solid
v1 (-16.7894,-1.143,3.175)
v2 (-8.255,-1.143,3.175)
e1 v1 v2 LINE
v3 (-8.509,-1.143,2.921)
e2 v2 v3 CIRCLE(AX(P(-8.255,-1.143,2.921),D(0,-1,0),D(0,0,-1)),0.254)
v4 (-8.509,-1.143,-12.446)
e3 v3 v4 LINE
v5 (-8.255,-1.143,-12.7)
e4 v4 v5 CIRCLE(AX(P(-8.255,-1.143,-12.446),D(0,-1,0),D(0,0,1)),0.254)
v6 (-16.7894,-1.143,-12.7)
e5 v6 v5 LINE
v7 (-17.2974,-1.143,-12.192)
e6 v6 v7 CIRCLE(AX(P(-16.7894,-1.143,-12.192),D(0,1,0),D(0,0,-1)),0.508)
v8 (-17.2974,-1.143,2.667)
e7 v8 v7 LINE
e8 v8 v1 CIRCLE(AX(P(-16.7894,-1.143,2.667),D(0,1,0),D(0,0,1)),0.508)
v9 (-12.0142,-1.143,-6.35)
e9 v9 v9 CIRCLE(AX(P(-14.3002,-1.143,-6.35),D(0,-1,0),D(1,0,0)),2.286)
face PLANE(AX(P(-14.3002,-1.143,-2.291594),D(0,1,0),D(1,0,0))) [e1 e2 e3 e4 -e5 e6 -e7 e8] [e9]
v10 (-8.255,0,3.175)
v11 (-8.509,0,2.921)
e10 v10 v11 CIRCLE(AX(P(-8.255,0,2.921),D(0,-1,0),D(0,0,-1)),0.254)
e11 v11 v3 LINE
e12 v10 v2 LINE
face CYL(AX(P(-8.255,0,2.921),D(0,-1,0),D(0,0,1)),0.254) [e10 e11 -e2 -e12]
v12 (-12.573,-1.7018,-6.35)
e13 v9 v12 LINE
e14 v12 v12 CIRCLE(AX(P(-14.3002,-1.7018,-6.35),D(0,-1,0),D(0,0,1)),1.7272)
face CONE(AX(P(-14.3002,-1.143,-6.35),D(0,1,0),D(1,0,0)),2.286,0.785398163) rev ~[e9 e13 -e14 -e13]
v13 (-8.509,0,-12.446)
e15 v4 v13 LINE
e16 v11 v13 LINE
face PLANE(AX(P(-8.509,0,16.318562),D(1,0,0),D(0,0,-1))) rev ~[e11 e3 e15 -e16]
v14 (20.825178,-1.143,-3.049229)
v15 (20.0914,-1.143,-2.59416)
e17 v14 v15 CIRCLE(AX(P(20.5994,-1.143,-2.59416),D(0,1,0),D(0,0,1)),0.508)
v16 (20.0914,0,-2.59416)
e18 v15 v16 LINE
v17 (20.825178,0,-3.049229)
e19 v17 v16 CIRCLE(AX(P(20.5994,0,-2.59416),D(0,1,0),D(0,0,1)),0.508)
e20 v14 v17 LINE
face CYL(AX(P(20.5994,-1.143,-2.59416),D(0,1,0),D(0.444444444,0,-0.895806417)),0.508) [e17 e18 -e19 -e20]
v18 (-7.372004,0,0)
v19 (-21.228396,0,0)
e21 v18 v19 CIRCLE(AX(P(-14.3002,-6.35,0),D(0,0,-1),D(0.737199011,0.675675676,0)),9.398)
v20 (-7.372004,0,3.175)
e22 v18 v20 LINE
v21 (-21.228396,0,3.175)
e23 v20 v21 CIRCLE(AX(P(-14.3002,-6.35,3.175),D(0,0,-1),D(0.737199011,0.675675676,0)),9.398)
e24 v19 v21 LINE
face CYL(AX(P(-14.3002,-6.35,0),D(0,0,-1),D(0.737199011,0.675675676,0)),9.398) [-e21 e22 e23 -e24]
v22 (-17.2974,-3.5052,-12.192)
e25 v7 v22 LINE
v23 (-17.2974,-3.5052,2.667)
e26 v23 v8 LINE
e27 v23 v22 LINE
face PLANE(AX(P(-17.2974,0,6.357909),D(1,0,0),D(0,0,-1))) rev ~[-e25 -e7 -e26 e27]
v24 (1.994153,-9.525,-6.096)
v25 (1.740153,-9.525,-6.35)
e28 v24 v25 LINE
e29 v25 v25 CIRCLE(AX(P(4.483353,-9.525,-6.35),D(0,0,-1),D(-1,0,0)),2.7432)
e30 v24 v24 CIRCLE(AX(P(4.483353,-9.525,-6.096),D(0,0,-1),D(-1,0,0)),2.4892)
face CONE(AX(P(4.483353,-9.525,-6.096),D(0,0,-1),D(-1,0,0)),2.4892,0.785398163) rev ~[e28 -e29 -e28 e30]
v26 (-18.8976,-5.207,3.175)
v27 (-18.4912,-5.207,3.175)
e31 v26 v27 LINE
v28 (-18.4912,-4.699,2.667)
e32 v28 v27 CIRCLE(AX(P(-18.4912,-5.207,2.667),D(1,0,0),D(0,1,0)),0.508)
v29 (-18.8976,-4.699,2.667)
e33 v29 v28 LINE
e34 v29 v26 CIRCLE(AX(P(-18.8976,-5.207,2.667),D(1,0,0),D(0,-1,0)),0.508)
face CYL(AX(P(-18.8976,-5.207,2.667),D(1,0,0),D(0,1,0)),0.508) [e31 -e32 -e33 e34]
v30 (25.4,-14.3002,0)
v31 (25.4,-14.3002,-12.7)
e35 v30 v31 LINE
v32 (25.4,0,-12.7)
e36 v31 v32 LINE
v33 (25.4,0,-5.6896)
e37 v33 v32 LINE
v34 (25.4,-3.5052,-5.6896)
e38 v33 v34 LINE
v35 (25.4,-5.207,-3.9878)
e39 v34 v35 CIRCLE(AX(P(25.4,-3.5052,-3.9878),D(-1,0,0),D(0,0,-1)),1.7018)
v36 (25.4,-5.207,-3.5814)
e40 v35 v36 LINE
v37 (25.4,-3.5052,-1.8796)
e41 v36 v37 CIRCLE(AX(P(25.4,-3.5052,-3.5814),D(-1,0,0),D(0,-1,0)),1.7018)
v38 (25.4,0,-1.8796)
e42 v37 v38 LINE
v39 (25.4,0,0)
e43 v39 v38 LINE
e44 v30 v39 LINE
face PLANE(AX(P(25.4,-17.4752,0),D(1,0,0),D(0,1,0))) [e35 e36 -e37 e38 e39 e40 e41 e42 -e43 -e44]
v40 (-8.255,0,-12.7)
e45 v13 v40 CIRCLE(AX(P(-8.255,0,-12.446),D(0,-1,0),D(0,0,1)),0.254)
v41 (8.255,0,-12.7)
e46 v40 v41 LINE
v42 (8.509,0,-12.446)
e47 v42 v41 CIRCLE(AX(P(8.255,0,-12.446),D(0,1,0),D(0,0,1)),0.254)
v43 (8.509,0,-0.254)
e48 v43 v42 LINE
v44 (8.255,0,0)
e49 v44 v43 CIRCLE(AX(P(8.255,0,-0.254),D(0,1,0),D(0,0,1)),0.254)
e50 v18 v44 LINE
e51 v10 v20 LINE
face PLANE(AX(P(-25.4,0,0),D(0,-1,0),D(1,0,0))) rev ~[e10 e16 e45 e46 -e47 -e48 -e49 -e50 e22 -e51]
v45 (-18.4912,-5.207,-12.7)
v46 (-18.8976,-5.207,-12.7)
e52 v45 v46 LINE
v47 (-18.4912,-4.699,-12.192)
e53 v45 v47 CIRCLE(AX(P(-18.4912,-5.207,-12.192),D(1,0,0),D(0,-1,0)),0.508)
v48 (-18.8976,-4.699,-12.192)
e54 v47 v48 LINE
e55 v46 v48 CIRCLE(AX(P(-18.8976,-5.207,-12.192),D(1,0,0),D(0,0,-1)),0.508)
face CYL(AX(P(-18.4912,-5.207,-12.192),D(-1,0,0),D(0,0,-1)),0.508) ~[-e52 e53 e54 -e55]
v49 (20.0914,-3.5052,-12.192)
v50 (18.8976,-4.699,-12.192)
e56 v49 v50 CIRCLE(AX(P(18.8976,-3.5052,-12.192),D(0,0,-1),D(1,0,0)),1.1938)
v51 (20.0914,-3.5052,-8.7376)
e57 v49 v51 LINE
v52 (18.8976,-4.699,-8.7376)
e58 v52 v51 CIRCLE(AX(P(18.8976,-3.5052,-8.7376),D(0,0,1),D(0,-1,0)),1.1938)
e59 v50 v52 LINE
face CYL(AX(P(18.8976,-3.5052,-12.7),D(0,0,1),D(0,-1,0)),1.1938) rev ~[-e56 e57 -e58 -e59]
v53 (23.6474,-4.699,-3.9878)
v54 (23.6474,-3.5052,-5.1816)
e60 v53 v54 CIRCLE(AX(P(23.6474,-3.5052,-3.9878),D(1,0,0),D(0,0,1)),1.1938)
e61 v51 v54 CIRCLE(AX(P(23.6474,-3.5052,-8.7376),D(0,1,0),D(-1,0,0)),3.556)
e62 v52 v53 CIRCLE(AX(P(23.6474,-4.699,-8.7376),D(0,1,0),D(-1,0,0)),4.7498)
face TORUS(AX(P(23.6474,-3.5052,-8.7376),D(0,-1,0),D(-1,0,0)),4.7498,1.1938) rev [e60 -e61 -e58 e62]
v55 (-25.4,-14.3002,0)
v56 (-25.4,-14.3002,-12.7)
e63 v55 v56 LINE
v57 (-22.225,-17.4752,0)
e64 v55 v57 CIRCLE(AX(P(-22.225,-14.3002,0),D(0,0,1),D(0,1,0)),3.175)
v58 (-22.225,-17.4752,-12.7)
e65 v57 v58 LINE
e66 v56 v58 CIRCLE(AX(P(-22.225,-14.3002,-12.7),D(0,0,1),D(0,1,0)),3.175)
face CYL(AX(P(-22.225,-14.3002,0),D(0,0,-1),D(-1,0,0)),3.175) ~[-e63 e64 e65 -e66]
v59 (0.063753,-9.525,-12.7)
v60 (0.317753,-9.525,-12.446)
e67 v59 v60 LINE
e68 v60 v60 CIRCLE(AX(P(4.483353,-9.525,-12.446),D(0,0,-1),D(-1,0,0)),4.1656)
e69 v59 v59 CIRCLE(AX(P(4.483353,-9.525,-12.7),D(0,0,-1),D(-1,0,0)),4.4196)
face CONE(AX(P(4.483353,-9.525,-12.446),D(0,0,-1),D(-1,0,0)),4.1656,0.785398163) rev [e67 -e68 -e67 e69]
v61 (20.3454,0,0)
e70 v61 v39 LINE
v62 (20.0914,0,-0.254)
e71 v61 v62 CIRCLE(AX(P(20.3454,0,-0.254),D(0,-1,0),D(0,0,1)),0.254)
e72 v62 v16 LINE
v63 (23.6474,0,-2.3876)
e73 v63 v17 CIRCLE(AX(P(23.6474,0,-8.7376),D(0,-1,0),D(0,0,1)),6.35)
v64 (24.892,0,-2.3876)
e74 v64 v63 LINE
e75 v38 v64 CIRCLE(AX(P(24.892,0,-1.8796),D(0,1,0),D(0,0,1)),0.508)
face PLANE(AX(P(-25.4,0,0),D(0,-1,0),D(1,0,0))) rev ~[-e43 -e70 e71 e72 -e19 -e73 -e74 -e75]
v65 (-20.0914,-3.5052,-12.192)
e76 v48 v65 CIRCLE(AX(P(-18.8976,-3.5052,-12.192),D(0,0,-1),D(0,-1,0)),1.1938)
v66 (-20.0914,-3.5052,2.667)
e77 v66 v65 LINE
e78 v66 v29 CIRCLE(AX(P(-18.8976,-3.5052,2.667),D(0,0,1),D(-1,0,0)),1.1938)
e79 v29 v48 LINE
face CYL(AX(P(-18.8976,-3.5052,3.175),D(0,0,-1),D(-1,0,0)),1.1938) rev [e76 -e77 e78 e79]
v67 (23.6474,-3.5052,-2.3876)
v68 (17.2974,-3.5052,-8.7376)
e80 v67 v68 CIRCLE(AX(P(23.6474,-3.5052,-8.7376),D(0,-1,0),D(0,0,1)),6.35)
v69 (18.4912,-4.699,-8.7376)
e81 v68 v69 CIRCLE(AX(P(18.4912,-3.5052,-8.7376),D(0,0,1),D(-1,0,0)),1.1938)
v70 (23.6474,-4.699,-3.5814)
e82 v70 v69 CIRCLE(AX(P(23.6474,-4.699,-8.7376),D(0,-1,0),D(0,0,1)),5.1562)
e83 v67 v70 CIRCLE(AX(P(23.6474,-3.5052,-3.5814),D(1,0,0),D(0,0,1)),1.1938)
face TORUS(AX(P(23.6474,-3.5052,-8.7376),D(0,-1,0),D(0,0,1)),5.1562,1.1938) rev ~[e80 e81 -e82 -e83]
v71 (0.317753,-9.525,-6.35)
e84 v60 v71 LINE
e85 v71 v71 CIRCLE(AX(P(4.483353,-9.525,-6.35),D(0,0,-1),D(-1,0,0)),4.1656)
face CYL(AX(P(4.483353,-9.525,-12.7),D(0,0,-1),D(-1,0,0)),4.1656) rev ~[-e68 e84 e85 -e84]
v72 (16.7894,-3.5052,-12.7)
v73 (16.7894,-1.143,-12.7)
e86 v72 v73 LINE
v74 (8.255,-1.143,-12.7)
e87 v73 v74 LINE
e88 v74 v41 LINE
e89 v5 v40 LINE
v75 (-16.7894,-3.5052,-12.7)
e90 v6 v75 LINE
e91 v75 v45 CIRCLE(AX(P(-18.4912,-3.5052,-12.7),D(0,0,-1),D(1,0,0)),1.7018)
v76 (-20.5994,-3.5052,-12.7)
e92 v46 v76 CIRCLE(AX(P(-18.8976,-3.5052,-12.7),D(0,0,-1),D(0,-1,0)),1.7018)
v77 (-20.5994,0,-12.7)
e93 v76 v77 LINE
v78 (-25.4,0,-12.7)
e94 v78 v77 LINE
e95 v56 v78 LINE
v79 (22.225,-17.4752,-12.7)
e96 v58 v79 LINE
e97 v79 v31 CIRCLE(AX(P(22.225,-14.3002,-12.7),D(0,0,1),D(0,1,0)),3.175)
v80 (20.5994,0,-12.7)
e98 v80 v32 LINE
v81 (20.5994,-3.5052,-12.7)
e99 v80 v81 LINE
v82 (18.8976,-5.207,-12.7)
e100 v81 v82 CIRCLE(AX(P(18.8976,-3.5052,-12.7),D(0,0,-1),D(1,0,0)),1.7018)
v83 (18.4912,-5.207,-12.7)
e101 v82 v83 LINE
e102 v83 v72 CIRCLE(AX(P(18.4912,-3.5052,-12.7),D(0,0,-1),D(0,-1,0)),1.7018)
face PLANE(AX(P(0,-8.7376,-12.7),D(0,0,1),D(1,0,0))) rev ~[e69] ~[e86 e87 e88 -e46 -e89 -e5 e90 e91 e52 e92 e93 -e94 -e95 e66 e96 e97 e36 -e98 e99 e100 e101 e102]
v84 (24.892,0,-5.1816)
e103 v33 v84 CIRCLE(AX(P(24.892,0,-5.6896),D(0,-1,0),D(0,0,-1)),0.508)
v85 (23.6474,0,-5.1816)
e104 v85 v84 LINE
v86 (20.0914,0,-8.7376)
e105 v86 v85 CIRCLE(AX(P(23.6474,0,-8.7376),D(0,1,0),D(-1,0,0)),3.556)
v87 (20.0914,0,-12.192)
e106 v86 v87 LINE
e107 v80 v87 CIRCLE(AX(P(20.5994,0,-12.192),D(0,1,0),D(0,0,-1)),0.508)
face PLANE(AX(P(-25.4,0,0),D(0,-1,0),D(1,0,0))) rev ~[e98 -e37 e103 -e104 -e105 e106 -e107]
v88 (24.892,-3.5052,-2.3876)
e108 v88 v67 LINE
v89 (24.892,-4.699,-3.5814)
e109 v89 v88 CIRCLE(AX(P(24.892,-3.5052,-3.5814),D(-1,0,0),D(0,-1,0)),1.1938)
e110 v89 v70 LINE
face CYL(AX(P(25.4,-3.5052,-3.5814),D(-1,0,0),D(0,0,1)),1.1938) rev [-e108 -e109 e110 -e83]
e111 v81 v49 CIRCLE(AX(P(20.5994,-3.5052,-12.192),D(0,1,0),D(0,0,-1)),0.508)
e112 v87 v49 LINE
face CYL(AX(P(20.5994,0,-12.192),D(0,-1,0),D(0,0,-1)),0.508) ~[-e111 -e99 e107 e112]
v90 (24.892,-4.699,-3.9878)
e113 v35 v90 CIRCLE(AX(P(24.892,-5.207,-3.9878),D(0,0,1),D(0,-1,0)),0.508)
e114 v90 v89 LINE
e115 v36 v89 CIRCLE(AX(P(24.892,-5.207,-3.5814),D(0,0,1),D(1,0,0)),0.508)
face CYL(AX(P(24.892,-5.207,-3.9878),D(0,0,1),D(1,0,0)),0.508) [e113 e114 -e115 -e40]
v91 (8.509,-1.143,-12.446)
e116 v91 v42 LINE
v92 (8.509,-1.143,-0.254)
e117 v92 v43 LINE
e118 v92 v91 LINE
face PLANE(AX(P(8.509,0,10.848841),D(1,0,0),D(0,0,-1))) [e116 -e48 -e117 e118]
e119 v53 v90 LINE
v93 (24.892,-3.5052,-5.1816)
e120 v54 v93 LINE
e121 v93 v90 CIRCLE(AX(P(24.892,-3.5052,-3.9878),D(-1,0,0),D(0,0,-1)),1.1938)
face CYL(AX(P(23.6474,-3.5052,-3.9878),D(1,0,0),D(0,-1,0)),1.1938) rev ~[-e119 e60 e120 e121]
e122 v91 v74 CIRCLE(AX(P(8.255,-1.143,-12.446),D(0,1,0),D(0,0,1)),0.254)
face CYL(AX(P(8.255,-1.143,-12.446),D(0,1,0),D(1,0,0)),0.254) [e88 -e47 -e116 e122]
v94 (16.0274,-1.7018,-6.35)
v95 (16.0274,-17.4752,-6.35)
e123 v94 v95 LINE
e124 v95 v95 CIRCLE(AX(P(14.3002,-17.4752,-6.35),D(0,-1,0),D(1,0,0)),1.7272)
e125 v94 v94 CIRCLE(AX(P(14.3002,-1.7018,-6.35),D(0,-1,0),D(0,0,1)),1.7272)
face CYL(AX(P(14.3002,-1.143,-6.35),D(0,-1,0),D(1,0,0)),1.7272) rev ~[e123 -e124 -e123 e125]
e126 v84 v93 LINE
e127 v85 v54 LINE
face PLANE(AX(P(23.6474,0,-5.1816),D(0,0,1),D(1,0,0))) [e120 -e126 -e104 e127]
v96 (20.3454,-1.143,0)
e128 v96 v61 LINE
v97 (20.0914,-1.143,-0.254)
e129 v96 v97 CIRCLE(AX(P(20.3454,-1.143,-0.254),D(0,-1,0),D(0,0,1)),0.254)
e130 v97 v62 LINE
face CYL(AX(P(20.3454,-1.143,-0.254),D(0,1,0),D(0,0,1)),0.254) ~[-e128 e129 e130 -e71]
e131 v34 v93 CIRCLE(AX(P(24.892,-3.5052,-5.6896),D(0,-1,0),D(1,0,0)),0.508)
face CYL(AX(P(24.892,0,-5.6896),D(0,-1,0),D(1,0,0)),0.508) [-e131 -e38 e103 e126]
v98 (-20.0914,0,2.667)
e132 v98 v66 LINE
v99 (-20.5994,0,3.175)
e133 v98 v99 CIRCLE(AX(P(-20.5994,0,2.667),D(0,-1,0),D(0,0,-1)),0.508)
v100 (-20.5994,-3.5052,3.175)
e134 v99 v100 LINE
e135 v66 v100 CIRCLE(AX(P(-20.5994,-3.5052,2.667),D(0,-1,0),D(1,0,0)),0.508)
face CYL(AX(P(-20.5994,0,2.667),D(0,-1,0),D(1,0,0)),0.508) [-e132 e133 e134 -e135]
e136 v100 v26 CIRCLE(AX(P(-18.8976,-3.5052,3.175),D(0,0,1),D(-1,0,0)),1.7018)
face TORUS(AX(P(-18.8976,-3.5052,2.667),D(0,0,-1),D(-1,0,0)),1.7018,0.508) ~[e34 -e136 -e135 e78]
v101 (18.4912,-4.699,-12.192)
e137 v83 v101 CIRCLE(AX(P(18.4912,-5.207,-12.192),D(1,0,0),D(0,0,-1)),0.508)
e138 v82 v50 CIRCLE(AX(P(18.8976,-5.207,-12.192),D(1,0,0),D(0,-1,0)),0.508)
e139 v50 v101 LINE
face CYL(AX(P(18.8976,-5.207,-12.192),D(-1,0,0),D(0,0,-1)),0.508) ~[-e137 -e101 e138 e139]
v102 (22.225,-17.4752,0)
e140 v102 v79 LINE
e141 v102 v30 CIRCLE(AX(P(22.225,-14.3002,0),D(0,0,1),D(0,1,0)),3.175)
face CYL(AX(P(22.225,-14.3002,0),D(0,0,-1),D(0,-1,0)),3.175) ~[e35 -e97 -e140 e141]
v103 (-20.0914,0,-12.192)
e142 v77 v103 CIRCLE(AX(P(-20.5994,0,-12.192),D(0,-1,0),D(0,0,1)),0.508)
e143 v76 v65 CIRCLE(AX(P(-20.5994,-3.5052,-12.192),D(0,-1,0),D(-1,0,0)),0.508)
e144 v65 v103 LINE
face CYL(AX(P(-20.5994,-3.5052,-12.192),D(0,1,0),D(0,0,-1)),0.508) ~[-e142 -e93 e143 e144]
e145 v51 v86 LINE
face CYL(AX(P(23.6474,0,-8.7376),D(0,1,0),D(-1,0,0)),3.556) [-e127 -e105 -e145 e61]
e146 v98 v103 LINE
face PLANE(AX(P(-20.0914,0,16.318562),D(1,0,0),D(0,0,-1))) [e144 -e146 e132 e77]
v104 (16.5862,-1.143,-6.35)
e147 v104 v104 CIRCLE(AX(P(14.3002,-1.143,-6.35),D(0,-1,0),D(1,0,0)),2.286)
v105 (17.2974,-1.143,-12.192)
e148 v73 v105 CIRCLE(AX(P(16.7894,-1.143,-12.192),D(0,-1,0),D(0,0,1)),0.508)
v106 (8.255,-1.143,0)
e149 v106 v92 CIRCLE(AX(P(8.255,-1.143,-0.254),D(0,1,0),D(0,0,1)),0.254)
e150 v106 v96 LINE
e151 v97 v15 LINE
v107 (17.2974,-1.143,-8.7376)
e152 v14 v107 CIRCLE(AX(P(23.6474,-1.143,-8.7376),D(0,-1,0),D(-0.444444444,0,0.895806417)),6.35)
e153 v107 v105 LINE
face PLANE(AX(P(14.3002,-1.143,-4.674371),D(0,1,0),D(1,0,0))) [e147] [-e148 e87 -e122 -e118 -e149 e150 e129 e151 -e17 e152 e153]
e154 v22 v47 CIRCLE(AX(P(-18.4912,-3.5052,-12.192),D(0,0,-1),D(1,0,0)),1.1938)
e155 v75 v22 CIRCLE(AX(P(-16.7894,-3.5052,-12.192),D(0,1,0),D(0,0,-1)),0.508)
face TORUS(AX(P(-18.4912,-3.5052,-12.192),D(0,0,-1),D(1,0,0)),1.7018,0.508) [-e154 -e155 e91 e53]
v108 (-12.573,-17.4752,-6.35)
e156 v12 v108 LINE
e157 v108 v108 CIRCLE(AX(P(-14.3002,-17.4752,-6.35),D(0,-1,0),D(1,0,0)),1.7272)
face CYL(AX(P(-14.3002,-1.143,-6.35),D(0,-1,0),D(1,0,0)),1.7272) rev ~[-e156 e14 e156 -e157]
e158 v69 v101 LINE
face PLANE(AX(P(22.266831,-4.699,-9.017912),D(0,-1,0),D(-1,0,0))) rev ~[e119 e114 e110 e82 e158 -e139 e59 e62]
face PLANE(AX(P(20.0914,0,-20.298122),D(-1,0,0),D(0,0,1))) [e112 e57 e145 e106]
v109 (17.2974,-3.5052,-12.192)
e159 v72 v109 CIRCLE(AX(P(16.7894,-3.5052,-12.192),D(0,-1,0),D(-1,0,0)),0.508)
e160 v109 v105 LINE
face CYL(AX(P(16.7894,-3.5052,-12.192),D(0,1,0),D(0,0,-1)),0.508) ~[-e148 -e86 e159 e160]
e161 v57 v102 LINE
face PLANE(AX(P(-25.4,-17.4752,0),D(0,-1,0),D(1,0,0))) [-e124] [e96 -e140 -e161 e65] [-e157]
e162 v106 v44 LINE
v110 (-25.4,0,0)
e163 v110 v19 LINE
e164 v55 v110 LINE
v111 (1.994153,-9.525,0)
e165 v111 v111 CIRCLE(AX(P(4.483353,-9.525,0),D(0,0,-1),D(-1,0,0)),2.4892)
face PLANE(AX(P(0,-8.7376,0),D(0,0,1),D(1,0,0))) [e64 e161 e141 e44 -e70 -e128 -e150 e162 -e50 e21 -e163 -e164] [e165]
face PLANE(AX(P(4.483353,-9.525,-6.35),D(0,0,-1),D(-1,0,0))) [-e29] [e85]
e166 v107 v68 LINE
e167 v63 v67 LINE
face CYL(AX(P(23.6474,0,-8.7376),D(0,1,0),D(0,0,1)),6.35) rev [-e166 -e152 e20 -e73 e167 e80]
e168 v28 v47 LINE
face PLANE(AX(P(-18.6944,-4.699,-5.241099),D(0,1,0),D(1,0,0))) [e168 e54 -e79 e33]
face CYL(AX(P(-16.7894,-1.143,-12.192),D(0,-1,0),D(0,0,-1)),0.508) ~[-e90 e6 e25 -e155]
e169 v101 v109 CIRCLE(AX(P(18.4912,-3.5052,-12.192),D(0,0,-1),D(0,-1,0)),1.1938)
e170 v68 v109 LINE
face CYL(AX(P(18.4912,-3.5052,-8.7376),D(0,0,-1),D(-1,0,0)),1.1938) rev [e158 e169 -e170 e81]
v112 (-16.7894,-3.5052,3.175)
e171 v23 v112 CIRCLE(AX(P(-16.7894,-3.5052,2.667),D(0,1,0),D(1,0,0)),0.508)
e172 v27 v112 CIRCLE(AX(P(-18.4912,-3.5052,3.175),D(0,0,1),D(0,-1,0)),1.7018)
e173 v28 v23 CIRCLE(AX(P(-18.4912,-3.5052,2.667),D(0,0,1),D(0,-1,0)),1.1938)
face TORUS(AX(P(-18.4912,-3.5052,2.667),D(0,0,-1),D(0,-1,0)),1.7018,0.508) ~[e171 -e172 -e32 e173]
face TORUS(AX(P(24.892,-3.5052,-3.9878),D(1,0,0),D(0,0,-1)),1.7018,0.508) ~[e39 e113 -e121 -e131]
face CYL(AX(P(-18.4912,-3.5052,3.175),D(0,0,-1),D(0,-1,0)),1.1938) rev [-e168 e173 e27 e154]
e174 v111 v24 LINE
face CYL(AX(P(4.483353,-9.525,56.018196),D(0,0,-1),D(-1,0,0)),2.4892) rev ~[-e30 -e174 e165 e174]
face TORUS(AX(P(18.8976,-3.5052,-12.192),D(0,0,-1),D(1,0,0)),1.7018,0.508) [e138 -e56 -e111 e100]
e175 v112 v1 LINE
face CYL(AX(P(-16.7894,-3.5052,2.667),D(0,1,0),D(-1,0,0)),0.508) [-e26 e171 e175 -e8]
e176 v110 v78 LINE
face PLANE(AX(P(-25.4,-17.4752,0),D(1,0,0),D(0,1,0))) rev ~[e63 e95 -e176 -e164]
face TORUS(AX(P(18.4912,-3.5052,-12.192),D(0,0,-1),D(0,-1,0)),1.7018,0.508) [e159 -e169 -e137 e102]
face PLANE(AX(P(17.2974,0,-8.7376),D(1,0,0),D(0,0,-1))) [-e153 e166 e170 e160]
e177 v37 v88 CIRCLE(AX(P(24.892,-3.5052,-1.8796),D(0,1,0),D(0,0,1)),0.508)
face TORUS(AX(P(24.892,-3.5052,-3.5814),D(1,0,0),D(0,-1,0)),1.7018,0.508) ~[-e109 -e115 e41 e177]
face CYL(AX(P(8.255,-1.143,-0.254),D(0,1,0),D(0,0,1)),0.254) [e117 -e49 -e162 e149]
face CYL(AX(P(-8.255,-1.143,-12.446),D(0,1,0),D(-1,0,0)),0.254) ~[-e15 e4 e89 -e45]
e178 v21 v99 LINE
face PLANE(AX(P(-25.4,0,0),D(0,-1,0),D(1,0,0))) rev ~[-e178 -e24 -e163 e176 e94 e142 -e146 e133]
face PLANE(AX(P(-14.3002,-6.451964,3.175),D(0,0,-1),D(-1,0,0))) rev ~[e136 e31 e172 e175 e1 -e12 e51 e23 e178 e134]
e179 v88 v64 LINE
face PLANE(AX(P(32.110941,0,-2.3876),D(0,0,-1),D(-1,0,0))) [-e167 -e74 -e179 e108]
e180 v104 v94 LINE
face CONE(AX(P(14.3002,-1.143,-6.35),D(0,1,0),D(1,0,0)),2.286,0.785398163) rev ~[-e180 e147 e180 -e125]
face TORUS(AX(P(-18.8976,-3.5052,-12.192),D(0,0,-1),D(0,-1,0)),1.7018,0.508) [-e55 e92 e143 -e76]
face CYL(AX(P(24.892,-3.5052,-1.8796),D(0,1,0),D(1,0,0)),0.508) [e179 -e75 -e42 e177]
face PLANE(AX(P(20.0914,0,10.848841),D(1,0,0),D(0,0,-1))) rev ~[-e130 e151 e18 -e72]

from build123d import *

# Parameters (mm, degrees)
SKETCH1_W                       = 50.8
SKETCH1_H                       = 17.4752
BOSS_EXTRUDE1_DEPTH             = 12.7
BOSS_EXTRUDE2_DEPTH             = 3.175
SKETCH12_W                      = 11.5824
SKETCH12_H                      = 31.04642485
SKETCH12_H_2                    = 37.220312072
CUT_EXTRUDE5_DEPTH              = 1.143
F_9_0_196_DIAMETER_HOLE1_D      = 4.9784
FILLET1_R                       = 3.175
F_8_32_TAPPED_HOLE2_D           = 3.4544
F_8_32_TAPPED_HOLE2_CSINK_D     = 4.572
F_8_32_TAPPED_HOLE2_CSINK_ANGLE = 90
SKETCH11_W                      = 2.794
SKETCH11_H                      = 23.198016048
CUT_EXTRUDE4_DEPTH              = 4.699
FILLET2_R                       = 1.1938
FILLET3_R                       = 0.508
FILLET4_R                       = 0.254
SKETCH16_R                      = 4.1656
CUT_EXTRUDE6_DEPTH              = 6.35
CHAMFER1_SIZE                   = 0.254
FILLET8_R                       = 0.508


with BuildPart() as part:
    # Sketch1 → Boss-Extrude1 (new body)
    with BuildSketch(Plane.XY):
        with Locations((0, -8.7376)):
            Rectangle(SKETCH1_W, SKETCH1_H)
    extrude(amount=-BOSS_EXTRUDE1_DEPTH)

    # Sketch2 → Boss-Extrude2 (add)
    with BuildSketch(Plane.XY):
        with BuildLine():
            Line((-21.228396302, 0), (-7.372003698, 0))
            ThreePointArc((-7.372003698, 0), (-14.3002, -15.748), (-21.228396302, 0))
        make_face()
    extrude(amount=BOSS_EXTRUDE2_DEPTH)

    # Sketch12 → Cut-Extrude5 (cut)
    with BuildSketch(Plane(origin=(0, 0, 0), x_dir=(1, 0, 0), z_dir=(0, 1, 0))):
        with Locations((14.3002, 4.674371042)):
            Rectangle(SKETCH12_W, SKETCH12_H)
        with Locations((-14.3002, 2.29159367)):
            Rectangle(SKETCH12_W, SKETCH12_H_2)
    extrude(amount=-CUT_EXTRUDE5_DEPTH, mode=Mode.SUBTRACT)

    # #9 (0.196) Diameter Hole1 (through all)
    with Locations(Plane(origin=(33.7312, -2.208443868, 0), x_dir=(1, 0, 0), z_dir=(0, 0, 1))):
        with Locations((-29.247846689, -7.316556132)):
            Hole(F_9_0_196_DIAMETER_HOLE1_D / 2)

    # Fillet1
    fillet1_edges = [part.edges().sort_by_distance(p)[0] for p in [
        (25.4, -17.4752, -6.35),
        (-25.4, -17.4752, -6.35),
    ]]
    fillet(fillet1_edges, radius=FILLET1_R)

    # #8-32 Tapped Hole2 (through all)
    with Locations(Plane(origin=(26.700019519, -1.143, -0.758269739), x_dir=(-1, 0, 0), z_dir=(0, 1, 0))):
        with Locations((12.399819519, -5.591730261), (41.000219519, -5.591730261)):
            CounterSinkHole(F_8_32_TAPPED_HOLE2_D / 2, F_8_32_TAPPED_HOLE2_CSINK_D / 2, counter_sink_angle=F_8_32_TAPPED_HOLE2_CSINK_ANGLE)

    # Sketch11 → Cut-Extrude4 (cut)
    with BuildSketch(Plane(origin=(0, 0, 0), x_dir=(1, 0, 0), z_dir=(0, 1, 0))):
        with BuildLine():
            Line((20.0914, 20.298121943), (20.0914, 8.7376))
            ThreePointArc((20.0914, 8.7376), (21.132928286, 6.223128286), (23.6474, 5.1816))
            Line((23.6474, 5.1816), (32.110940615, 5.1816))
            Line((32.110940615, 5.1816), (32.110940615, 2.3876))
            Line((32.110940615, 2.3876), (23.6474, 2.3876))
            ThreePointArc((23.6474, 2.3876), (19.157271939, 4.247471939), (17.2974, 8.7376))
            Line((17.2974, 8.7376), (17.2974, 20.298121943))
            Line((17.2974, 20.298121943), (20.0914, 20.298121943))
        make_face()
        with Locations((-18.6944, 5.241099364)):
            Rectangle(SKETCH11_W, SKETCH11_H)
    extrude(amount=-CUT_EXTRUDE4_DEPTH, mode=Mode.SUBTRACT)

    # Fillet2
    fillet2_edges = [part.edges().sort_by_distance(p)[0] for p in [
        (24.5237, -4.699, -5.1816),
        (24.5237, -4.699, -2.3876),
        (19.157271939, -4.699, -4.247471939),
        (17.2974, -4.699, -10.7188),
        (20.0914, -4.699, -10.7188),
        (21.132928286, -4.699, -6.223128286),
        (-17.2974, -4.699, -4.7625),
        (-20.0914, -4.699, -4.7625),
    ]]
    fillet(fillet2_edges, radius=FILLET2_R)

    # Fillet3
    fillet3_edges = [part.edges().sort_by_distance(p)[0] for p in [
        (20.0914, -0.5715, -3.476671945),
    ]]
    fillet(fillet3_edges, radius=FILLET3_R)

    # Fillet4
    fillet4_edges = [part.edges().sort_by_distance(p)[0] for p in [
        (-8.509, -0.5715, 3.175),
        (-8.509, -0.5715, -12.7),
        (8.509, -0.5715, -12.7),
        (8.509, -0.5715, 0),
        (20.0914, -0.5715, 0),
    ]]
    fillet(fillet4_edges, radius=FILLET4_R)

    # Sketch16 → Cut-Extrude6 (cut)
    with BuildSketch(Plane(origin=(0, 0, -12.7), x_dir=(-1, 0, 0), z_dir=(0, 0, -1))):
        with Locations((-4.483353311, -9.525)):
            Circle(SKETCH16_R)
    extrude(amount=-CUT_EXTRUDE6_DEPTH, mode=Mode.SUBTRACT)

    # Chamfer1
    chamfer1_edges = [part.edges().sort_by_distance(p)[0] for p in [
        (8.648953311, -9.525, -12.7),
        (6.972553311, -9.525, -6.35),
    ]]
    chamfer(chamfer1_edges, length=CHAMFER1_SIZE)

    # Fillet8
    fillet8_edges = [part.edges().sort_by_distance(p)[0] for p in [
        (25.4, -1.7526, -2.3876),
        (17.2974, -2.3241, -12.7),
        (18.6944, -4.699, -12.7),
        (25.4, -4.699, -3.7846),
        (25.4, -1.7526, -5.1816),
        (-18.6944, -4.699, -12.7),
        (-18.6944, -4.699, 3.175),
        (-17.2974, -2.3241, 3.175),
        (-17.2974, -2.3241, -12.7),
        (20.0914, -1.7526, -12.7),
        (25.4, -4.349344075, -2.737255925),
        (25.4, -4.349344075, -4.831944075),
        (-19.741744075, -4.349344075, -12.7),
        (-19.741744075, -4.349344075, 3.175),
        (-17.647055925, -4.349344075, 3.175),
        (-17.647055925, -4.349344075, -12.7),
        (17.647055925, -4.349344075, -12.7),
        (19.741744075, -4.349344075, -12.7),
        (-20.0914, -1.7526, 3.175),
        (-20.0914, -1.7526, -12.7),
    ]]
    fillet(fillet8_edges, radius=FILLET8_R)


solid = part.part
